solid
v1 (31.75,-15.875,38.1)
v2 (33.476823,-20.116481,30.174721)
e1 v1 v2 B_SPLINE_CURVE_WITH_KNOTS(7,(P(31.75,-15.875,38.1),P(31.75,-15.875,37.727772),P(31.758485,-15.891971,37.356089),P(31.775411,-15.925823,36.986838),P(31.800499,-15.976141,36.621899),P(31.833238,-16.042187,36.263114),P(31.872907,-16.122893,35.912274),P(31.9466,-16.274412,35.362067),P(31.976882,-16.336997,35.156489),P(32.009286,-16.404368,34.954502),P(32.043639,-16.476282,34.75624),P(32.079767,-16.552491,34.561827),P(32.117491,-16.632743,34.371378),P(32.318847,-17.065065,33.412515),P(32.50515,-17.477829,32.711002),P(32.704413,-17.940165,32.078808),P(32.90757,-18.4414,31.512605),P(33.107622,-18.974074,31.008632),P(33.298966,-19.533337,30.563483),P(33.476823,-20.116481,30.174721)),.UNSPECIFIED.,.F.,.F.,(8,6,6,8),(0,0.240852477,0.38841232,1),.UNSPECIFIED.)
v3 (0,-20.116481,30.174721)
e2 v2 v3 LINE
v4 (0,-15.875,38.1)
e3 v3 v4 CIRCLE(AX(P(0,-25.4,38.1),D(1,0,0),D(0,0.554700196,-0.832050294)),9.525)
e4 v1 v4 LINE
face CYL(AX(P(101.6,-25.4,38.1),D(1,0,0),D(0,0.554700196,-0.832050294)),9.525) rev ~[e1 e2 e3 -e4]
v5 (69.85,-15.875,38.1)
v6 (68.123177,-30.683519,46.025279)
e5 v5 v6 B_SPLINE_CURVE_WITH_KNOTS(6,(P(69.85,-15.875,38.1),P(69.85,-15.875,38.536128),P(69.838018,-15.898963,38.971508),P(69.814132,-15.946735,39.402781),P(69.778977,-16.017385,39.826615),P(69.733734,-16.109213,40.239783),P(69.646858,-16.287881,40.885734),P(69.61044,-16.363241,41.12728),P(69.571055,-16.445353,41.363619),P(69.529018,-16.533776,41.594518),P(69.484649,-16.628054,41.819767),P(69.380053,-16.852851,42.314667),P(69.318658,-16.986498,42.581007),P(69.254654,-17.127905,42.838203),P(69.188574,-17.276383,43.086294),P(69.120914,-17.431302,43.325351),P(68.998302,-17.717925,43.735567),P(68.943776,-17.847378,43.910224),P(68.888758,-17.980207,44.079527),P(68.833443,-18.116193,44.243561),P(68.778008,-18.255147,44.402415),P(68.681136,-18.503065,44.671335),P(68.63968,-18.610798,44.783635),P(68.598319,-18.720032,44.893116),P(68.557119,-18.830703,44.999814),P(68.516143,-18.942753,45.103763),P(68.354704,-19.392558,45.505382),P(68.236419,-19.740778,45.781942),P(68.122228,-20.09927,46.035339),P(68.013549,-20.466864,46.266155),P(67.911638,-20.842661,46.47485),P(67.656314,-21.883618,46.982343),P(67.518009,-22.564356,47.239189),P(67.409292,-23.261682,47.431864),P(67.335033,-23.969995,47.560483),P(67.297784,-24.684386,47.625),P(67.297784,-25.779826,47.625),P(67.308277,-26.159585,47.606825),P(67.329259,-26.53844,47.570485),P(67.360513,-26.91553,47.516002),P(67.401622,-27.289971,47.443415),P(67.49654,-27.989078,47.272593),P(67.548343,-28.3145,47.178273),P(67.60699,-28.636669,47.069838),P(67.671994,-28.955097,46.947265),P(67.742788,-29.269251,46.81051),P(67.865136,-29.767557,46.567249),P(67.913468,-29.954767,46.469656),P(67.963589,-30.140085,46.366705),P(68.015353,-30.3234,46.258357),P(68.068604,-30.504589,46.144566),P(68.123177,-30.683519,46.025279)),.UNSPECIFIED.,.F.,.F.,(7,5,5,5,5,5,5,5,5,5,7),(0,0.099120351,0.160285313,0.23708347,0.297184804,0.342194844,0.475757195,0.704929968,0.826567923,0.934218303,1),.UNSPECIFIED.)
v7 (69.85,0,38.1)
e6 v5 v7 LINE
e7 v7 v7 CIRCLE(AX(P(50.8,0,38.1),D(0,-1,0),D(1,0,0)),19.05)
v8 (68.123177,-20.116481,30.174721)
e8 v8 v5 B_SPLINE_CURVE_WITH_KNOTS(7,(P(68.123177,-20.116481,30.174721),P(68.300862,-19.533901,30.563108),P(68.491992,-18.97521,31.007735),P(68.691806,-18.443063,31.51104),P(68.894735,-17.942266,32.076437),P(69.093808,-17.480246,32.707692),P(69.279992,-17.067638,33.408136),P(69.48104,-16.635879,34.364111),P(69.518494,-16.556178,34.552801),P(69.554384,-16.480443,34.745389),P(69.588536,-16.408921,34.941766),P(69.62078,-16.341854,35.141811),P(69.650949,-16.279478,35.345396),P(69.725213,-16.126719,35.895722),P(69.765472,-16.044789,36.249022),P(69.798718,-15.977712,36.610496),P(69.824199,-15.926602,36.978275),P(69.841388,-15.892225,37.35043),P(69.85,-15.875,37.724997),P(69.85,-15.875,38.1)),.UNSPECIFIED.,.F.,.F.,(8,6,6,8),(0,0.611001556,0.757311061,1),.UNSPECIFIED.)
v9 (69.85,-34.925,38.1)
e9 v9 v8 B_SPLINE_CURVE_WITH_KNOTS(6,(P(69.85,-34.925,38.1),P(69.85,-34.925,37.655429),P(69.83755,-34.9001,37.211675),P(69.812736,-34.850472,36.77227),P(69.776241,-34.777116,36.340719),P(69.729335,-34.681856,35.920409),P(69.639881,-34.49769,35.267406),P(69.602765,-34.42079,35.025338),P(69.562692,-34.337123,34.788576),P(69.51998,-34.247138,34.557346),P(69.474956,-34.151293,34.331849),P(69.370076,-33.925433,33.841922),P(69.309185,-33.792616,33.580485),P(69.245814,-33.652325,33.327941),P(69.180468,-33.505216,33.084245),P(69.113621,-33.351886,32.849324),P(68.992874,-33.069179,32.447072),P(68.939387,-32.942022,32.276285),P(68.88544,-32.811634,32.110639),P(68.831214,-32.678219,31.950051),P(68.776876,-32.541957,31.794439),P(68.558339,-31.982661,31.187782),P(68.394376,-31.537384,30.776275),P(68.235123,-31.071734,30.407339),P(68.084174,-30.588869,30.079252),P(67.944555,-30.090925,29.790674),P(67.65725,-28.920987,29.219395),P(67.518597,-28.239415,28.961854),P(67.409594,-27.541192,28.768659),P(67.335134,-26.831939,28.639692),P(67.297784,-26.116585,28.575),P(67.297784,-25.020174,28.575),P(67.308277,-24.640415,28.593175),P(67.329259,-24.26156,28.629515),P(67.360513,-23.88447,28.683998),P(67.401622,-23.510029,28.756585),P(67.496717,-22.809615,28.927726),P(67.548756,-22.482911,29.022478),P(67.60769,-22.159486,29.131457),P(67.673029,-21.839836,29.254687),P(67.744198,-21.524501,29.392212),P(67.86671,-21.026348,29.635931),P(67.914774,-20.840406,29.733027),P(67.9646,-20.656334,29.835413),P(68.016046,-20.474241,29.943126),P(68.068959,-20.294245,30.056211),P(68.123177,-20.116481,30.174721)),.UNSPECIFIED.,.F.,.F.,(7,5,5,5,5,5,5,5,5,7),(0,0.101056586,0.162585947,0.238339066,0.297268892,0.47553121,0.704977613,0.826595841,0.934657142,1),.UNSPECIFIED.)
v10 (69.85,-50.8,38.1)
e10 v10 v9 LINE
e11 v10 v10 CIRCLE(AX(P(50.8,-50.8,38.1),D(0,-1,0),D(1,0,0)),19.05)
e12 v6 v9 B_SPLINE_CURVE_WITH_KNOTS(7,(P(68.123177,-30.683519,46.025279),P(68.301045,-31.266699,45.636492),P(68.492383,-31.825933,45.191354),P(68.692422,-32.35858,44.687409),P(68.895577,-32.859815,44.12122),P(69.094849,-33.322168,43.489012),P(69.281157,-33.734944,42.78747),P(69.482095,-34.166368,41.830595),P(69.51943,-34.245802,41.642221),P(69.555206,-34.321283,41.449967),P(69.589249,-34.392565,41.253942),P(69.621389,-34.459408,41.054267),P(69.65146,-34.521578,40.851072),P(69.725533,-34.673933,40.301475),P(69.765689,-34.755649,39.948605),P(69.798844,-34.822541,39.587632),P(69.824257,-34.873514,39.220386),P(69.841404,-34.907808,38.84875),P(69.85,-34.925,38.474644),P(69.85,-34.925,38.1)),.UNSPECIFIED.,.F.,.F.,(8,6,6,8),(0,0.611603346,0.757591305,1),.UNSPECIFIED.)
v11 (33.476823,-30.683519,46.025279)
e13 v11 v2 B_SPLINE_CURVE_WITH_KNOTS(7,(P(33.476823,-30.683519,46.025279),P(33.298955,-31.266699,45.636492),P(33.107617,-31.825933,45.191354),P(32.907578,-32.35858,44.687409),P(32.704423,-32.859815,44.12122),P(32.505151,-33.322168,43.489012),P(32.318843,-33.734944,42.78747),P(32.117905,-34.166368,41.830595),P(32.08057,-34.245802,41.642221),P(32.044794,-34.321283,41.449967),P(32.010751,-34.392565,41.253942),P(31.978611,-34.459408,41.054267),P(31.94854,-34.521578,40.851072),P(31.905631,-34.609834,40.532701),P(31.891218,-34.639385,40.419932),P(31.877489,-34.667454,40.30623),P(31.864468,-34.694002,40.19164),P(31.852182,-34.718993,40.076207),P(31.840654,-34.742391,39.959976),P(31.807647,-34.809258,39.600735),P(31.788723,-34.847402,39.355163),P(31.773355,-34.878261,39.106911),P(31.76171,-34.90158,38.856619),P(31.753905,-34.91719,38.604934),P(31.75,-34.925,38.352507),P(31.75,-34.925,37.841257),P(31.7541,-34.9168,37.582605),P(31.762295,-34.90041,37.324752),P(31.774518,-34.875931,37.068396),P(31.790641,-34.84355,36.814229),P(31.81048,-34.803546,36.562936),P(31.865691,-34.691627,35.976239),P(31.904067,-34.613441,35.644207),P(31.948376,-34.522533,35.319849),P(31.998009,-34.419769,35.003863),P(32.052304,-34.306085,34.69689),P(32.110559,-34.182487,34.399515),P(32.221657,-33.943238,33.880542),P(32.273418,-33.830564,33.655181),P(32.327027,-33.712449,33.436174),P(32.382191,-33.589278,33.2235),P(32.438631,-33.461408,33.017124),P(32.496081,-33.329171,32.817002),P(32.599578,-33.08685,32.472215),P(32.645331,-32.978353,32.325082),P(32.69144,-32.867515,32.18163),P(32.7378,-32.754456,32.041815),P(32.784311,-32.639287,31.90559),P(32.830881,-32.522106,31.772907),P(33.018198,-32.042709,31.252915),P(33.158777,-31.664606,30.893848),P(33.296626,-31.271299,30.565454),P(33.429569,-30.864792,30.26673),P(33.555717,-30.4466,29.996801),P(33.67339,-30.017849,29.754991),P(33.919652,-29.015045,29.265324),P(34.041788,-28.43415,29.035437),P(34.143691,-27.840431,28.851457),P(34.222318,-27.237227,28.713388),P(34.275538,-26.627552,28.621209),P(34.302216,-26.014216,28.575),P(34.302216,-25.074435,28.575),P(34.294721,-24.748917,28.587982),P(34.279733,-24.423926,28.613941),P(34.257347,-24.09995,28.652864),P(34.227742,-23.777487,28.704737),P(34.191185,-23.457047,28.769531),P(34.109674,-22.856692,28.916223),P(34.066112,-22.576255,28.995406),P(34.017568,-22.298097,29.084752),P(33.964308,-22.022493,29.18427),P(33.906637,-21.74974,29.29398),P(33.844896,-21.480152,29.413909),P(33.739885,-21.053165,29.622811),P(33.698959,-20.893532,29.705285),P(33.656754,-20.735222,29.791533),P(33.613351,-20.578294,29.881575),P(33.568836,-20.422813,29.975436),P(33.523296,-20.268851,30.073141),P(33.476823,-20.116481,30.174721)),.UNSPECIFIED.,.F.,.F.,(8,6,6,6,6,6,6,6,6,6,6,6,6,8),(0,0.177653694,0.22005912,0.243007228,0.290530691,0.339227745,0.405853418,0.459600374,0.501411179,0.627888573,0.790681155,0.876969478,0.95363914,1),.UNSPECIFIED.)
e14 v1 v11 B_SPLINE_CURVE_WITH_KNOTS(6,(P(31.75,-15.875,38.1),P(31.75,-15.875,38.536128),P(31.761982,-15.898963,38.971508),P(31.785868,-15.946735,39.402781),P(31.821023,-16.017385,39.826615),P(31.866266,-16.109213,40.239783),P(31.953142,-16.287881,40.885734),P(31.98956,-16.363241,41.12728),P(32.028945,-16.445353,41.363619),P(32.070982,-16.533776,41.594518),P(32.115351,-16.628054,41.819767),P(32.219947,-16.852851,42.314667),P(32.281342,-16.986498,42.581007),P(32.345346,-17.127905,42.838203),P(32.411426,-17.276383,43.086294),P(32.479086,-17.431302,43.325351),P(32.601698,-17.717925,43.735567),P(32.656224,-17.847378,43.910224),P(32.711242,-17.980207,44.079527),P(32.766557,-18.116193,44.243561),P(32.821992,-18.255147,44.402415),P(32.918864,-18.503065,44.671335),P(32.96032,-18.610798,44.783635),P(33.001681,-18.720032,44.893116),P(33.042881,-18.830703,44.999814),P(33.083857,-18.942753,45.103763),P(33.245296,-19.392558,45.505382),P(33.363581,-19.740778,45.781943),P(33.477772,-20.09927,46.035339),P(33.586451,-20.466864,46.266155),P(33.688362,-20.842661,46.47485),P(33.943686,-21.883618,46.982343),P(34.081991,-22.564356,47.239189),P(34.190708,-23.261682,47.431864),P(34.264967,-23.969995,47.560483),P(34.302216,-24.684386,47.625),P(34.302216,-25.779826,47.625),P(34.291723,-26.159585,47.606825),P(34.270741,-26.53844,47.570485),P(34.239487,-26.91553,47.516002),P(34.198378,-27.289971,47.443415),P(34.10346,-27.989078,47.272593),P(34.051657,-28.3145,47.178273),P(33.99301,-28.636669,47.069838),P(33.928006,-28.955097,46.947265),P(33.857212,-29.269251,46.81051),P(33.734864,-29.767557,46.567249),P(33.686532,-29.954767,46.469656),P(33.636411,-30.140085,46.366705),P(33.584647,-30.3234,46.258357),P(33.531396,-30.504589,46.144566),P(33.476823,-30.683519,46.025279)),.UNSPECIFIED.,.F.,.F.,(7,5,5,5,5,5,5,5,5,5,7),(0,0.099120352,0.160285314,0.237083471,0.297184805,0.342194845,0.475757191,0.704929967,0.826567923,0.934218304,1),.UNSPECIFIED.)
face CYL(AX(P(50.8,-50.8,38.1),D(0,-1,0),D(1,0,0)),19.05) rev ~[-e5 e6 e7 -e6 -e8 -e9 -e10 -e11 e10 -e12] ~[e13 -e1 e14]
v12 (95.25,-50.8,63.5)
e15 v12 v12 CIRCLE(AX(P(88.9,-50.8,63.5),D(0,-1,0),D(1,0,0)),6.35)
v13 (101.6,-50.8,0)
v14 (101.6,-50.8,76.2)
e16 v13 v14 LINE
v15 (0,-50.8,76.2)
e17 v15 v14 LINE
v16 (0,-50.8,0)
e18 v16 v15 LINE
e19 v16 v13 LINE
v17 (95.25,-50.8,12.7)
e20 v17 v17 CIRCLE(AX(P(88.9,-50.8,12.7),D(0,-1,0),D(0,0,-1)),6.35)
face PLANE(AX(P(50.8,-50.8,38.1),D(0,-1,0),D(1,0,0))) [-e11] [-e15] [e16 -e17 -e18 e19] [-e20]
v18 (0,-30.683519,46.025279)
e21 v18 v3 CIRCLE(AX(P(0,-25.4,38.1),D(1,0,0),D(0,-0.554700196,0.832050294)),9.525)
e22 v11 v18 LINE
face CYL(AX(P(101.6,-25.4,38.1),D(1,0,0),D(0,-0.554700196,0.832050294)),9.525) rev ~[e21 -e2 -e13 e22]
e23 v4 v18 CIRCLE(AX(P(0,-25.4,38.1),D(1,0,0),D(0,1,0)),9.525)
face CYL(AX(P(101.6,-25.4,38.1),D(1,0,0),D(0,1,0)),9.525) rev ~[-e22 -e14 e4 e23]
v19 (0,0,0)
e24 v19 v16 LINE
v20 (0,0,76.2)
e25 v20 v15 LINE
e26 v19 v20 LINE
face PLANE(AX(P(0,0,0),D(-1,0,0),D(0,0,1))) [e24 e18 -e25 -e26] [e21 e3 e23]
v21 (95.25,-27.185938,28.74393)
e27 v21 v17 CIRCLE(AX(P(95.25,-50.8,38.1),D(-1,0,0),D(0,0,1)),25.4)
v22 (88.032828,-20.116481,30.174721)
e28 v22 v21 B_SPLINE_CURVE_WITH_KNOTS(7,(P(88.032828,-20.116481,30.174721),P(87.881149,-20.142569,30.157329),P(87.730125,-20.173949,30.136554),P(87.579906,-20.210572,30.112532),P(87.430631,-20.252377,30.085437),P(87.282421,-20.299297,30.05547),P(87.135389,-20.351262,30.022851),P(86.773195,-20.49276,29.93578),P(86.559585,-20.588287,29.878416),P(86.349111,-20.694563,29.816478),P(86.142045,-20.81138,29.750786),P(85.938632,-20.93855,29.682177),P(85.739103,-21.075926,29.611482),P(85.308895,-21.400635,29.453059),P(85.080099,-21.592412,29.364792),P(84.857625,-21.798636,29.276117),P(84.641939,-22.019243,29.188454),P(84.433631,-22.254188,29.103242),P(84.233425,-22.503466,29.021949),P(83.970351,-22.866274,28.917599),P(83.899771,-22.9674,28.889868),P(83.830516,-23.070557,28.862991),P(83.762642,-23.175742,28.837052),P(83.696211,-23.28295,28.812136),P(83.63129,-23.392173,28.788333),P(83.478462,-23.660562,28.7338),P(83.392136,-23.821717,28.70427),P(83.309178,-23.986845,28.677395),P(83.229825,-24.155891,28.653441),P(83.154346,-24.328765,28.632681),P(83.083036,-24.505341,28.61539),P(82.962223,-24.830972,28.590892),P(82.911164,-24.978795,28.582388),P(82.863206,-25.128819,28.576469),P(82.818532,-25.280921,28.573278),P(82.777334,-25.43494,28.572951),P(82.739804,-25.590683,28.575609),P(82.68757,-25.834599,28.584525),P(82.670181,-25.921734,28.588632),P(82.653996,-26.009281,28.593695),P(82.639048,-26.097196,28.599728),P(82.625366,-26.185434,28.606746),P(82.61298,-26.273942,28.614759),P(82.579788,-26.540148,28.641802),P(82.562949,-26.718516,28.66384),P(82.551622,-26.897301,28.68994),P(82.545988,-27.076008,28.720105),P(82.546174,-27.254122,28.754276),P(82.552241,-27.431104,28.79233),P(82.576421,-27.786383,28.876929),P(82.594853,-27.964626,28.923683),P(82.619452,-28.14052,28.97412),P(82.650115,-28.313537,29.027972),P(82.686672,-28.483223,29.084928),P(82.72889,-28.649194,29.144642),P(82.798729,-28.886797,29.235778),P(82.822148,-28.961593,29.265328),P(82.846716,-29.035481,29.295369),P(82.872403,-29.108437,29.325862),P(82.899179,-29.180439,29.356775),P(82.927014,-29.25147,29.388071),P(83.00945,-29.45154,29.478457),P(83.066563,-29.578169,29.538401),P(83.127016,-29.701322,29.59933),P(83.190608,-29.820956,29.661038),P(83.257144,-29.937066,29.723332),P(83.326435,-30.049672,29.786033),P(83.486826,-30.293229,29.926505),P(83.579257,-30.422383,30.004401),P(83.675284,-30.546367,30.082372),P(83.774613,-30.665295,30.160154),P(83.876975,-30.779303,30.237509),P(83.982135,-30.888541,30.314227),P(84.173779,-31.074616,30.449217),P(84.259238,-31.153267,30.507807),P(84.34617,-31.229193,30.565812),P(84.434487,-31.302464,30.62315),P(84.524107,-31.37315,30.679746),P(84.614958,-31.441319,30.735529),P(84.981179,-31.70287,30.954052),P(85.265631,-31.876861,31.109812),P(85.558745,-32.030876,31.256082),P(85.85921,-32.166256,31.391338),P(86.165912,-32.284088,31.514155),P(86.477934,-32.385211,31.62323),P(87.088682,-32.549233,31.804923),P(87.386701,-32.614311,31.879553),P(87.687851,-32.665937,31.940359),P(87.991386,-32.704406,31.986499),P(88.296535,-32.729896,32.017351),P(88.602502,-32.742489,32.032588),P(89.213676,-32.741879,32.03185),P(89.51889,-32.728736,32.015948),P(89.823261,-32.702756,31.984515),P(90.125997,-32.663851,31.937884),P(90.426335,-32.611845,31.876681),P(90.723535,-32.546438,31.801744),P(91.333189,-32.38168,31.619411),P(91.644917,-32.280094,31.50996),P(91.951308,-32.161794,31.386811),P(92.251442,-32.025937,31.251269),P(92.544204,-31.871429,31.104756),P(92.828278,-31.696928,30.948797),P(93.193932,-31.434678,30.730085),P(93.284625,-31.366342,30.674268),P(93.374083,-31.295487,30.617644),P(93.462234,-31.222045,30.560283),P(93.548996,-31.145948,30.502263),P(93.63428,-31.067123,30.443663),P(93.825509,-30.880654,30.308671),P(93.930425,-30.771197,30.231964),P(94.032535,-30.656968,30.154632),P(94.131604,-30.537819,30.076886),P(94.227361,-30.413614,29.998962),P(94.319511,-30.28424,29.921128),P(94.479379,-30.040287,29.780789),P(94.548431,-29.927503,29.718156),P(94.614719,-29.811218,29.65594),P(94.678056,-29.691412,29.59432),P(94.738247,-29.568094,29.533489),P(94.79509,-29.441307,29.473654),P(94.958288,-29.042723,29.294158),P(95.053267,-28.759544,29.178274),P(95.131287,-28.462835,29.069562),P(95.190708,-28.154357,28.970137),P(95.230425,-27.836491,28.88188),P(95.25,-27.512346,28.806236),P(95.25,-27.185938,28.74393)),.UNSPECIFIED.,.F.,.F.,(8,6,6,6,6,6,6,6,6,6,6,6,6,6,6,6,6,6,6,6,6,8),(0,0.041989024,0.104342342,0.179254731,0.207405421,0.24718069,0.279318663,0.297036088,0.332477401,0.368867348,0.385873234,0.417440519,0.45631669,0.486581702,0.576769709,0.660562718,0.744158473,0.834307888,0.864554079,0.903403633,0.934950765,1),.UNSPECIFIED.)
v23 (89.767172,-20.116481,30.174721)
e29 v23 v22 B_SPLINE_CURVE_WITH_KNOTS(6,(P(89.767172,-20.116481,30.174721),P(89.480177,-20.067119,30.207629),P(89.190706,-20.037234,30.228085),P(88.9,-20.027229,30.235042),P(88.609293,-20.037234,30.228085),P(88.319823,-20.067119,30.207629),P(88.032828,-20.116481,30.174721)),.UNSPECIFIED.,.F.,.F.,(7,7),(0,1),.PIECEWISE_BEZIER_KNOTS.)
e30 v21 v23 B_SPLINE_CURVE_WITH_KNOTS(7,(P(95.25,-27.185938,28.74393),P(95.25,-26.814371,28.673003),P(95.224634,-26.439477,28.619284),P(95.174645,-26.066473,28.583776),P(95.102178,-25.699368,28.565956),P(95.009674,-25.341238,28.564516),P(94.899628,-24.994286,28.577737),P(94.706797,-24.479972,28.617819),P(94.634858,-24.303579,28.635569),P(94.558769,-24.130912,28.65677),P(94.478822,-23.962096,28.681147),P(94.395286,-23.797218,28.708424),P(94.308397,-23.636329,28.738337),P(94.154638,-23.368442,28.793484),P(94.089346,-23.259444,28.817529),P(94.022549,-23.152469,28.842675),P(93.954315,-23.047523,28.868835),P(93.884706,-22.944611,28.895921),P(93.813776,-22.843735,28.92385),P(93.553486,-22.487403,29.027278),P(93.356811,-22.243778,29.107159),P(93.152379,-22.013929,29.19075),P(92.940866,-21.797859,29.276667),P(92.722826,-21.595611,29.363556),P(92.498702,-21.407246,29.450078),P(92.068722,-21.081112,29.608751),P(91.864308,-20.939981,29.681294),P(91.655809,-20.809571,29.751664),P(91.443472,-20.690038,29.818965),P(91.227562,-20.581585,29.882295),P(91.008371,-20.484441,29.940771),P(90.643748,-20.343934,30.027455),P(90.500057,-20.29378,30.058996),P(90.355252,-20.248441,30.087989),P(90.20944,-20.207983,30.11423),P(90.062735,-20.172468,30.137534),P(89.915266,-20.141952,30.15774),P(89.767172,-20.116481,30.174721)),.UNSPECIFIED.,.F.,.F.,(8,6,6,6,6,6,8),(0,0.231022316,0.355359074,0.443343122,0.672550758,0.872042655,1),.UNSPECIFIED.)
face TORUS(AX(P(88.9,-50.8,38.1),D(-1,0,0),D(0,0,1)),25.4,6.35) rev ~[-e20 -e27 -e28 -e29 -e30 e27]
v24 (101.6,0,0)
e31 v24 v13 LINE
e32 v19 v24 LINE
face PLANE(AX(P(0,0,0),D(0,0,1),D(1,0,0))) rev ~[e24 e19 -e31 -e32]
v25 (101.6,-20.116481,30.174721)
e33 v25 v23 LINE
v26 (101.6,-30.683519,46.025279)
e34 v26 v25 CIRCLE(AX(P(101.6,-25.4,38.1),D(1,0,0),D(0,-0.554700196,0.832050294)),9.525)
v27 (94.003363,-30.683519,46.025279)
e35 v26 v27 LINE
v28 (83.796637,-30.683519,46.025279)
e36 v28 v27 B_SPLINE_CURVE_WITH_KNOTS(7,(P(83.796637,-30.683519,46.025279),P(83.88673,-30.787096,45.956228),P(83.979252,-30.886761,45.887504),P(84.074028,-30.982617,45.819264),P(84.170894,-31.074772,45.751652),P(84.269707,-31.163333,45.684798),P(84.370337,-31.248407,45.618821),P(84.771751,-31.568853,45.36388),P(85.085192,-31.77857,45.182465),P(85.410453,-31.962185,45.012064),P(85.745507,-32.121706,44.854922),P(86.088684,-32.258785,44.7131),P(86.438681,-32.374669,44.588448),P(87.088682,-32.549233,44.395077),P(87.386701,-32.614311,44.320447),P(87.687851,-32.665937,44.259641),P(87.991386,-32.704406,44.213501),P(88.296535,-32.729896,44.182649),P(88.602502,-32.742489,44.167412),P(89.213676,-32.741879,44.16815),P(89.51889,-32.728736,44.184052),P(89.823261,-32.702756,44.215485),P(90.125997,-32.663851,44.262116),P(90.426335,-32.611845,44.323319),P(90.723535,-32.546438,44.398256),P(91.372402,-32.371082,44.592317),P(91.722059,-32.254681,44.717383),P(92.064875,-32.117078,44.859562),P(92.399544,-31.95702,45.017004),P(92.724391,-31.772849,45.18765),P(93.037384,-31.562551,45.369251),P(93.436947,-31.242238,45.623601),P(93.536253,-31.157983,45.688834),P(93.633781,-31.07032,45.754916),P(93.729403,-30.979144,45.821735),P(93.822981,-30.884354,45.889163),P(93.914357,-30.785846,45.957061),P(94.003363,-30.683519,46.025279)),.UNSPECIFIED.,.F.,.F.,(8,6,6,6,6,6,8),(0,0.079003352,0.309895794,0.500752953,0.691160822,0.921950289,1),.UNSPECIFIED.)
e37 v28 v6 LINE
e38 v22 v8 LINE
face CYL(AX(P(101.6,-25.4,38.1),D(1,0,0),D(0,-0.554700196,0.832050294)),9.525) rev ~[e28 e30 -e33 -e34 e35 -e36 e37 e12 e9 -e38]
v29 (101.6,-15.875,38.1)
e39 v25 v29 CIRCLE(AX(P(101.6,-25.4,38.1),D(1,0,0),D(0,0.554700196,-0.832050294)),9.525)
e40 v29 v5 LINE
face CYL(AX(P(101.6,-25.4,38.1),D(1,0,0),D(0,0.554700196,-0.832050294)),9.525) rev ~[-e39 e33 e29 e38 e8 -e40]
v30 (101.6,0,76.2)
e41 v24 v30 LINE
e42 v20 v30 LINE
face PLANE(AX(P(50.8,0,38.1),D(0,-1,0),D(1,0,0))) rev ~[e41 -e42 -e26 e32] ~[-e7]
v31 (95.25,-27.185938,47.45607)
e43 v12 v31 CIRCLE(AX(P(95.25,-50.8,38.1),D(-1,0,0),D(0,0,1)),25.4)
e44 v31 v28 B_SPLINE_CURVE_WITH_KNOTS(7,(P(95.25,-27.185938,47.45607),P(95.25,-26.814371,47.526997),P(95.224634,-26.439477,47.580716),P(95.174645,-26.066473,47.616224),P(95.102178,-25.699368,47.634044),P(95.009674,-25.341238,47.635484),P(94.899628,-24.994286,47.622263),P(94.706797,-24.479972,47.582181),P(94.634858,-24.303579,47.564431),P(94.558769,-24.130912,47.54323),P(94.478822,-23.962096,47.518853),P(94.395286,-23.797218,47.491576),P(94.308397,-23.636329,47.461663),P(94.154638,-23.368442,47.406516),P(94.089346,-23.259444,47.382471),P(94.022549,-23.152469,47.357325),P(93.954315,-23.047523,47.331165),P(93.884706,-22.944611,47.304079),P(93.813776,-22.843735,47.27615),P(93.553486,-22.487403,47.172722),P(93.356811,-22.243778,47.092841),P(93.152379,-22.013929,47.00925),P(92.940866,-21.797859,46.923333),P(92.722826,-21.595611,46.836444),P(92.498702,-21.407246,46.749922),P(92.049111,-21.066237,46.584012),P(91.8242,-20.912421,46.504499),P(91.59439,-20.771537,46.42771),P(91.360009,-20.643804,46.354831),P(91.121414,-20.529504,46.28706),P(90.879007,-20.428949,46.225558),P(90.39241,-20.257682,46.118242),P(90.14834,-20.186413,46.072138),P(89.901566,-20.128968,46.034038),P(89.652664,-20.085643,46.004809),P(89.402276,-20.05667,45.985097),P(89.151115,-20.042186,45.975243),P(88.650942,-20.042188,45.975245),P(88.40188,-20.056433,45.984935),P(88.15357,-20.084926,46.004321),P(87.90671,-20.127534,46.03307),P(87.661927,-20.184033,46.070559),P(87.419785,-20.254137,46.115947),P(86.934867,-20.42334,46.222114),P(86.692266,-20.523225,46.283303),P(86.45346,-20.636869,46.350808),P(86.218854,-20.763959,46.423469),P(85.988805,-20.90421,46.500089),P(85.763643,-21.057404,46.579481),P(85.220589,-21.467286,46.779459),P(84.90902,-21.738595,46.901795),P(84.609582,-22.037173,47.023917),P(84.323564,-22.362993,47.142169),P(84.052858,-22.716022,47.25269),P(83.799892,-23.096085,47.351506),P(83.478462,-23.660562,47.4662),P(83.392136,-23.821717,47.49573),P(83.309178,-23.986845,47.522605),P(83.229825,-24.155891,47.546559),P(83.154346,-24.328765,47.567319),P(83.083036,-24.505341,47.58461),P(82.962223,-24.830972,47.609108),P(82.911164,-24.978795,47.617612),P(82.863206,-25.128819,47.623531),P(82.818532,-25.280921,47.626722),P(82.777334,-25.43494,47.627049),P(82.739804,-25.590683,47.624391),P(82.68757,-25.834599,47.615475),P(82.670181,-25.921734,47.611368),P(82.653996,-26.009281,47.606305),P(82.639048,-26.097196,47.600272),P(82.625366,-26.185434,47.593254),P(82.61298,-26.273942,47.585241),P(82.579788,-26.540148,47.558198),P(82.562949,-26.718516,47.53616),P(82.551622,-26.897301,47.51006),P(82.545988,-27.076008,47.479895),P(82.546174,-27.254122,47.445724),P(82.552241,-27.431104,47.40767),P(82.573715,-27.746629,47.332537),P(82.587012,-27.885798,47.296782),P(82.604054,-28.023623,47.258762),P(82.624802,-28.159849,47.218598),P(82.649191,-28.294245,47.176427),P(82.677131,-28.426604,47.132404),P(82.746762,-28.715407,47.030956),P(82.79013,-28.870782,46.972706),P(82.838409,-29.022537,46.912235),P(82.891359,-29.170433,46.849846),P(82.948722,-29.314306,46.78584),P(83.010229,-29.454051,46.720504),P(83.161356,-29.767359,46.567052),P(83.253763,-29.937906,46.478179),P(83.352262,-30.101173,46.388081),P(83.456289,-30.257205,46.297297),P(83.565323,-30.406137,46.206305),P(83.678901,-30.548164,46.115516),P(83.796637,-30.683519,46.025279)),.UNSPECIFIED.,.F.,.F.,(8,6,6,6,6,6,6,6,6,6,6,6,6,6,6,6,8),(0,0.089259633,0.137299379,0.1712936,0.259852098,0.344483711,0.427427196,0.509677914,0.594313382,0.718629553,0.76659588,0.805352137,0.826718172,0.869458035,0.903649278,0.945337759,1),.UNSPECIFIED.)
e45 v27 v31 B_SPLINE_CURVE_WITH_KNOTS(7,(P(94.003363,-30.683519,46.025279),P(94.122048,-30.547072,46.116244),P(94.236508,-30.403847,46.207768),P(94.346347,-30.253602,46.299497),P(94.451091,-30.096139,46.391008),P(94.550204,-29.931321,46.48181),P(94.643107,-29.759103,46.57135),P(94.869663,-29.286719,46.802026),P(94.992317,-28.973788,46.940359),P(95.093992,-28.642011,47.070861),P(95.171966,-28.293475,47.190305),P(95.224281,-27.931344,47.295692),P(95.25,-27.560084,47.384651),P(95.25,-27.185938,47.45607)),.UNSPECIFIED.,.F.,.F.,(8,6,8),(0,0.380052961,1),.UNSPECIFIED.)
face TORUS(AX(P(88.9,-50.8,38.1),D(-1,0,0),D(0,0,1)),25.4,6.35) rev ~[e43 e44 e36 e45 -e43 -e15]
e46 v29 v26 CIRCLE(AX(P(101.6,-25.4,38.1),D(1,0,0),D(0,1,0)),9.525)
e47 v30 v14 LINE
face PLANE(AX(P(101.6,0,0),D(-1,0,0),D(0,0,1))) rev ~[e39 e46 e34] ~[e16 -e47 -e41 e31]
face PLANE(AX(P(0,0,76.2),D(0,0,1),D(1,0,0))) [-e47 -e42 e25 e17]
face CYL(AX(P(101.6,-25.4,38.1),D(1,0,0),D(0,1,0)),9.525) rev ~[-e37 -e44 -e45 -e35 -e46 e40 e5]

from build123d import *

# Parameters (mm, degrees)
F0_W     = 101.6
F0_H     = 76.2
F1_DEPTH = 50.8
F2_R     = 19.05
F3_DEPTH = 50.801
F5_DEPTH = 101.601
F6_R     = 6.35


with BuildPart() as f1:
    # F0 (on Front) → F1 (new body)
    with BuildSketch(Plane.XZ):
        with Locations((50.8, 38.1)):
            Rectangle(F0_W, F0_H)
    extrude(amount=F1_DEPTH)

    # F2 (on face) → F3 (cut, through all)
    with BuildSketch(Plane.XZ.offset(50.8)):
        with Locations((50.8, 38.1)):
            Circle(F2_R)
    extrude(amount=-F3_DEPTH, mode=Mode.SUBTRACT)

    # F4 (on face) → F5 (cut, through all)
    with BuildSketch(Plane.YZ.offset(101.6)):
        with BuildLine():
            ThreePointArc((-15.875, 38.1), (-20.9055532593, 46.4979505533), (-30.683519369, 46.0252790536))
            Line((-30.683519369, 46.0252790536), (-20.116480631, 30.1747209464))
            ThreePointArc((-20.116480631, 30.1747209464), (-17.0020494467, 33.6055532593), (-15.875, 38.1))
        make_face()
        with BuildLine():
            Line((-20.116480631, 30.1747209464), (-30.683519369, 46.0252790536))
            ThreePointArc((-30.683519369, 46.0252790536), (-33.3252790536, 32.816480631), (-20.116480631, 30.1747209464))
        make_face()
    extrude(amount=-F5_DEPTH, mode=Mode.SUBTRACT)

    # F6 (on face) → F7 (revolve, cut)
    with BuildSketch(Plane.XZ.offset(50.8)):
        with Locations((88.9, 63.5)):
            Circle(F6_R)
    revolve(axis=Axis((91.8411842167, -50.8, 38.1), (-1, 0, 0)), mode=Mode.SUBTRACT)


solid = f1.part
